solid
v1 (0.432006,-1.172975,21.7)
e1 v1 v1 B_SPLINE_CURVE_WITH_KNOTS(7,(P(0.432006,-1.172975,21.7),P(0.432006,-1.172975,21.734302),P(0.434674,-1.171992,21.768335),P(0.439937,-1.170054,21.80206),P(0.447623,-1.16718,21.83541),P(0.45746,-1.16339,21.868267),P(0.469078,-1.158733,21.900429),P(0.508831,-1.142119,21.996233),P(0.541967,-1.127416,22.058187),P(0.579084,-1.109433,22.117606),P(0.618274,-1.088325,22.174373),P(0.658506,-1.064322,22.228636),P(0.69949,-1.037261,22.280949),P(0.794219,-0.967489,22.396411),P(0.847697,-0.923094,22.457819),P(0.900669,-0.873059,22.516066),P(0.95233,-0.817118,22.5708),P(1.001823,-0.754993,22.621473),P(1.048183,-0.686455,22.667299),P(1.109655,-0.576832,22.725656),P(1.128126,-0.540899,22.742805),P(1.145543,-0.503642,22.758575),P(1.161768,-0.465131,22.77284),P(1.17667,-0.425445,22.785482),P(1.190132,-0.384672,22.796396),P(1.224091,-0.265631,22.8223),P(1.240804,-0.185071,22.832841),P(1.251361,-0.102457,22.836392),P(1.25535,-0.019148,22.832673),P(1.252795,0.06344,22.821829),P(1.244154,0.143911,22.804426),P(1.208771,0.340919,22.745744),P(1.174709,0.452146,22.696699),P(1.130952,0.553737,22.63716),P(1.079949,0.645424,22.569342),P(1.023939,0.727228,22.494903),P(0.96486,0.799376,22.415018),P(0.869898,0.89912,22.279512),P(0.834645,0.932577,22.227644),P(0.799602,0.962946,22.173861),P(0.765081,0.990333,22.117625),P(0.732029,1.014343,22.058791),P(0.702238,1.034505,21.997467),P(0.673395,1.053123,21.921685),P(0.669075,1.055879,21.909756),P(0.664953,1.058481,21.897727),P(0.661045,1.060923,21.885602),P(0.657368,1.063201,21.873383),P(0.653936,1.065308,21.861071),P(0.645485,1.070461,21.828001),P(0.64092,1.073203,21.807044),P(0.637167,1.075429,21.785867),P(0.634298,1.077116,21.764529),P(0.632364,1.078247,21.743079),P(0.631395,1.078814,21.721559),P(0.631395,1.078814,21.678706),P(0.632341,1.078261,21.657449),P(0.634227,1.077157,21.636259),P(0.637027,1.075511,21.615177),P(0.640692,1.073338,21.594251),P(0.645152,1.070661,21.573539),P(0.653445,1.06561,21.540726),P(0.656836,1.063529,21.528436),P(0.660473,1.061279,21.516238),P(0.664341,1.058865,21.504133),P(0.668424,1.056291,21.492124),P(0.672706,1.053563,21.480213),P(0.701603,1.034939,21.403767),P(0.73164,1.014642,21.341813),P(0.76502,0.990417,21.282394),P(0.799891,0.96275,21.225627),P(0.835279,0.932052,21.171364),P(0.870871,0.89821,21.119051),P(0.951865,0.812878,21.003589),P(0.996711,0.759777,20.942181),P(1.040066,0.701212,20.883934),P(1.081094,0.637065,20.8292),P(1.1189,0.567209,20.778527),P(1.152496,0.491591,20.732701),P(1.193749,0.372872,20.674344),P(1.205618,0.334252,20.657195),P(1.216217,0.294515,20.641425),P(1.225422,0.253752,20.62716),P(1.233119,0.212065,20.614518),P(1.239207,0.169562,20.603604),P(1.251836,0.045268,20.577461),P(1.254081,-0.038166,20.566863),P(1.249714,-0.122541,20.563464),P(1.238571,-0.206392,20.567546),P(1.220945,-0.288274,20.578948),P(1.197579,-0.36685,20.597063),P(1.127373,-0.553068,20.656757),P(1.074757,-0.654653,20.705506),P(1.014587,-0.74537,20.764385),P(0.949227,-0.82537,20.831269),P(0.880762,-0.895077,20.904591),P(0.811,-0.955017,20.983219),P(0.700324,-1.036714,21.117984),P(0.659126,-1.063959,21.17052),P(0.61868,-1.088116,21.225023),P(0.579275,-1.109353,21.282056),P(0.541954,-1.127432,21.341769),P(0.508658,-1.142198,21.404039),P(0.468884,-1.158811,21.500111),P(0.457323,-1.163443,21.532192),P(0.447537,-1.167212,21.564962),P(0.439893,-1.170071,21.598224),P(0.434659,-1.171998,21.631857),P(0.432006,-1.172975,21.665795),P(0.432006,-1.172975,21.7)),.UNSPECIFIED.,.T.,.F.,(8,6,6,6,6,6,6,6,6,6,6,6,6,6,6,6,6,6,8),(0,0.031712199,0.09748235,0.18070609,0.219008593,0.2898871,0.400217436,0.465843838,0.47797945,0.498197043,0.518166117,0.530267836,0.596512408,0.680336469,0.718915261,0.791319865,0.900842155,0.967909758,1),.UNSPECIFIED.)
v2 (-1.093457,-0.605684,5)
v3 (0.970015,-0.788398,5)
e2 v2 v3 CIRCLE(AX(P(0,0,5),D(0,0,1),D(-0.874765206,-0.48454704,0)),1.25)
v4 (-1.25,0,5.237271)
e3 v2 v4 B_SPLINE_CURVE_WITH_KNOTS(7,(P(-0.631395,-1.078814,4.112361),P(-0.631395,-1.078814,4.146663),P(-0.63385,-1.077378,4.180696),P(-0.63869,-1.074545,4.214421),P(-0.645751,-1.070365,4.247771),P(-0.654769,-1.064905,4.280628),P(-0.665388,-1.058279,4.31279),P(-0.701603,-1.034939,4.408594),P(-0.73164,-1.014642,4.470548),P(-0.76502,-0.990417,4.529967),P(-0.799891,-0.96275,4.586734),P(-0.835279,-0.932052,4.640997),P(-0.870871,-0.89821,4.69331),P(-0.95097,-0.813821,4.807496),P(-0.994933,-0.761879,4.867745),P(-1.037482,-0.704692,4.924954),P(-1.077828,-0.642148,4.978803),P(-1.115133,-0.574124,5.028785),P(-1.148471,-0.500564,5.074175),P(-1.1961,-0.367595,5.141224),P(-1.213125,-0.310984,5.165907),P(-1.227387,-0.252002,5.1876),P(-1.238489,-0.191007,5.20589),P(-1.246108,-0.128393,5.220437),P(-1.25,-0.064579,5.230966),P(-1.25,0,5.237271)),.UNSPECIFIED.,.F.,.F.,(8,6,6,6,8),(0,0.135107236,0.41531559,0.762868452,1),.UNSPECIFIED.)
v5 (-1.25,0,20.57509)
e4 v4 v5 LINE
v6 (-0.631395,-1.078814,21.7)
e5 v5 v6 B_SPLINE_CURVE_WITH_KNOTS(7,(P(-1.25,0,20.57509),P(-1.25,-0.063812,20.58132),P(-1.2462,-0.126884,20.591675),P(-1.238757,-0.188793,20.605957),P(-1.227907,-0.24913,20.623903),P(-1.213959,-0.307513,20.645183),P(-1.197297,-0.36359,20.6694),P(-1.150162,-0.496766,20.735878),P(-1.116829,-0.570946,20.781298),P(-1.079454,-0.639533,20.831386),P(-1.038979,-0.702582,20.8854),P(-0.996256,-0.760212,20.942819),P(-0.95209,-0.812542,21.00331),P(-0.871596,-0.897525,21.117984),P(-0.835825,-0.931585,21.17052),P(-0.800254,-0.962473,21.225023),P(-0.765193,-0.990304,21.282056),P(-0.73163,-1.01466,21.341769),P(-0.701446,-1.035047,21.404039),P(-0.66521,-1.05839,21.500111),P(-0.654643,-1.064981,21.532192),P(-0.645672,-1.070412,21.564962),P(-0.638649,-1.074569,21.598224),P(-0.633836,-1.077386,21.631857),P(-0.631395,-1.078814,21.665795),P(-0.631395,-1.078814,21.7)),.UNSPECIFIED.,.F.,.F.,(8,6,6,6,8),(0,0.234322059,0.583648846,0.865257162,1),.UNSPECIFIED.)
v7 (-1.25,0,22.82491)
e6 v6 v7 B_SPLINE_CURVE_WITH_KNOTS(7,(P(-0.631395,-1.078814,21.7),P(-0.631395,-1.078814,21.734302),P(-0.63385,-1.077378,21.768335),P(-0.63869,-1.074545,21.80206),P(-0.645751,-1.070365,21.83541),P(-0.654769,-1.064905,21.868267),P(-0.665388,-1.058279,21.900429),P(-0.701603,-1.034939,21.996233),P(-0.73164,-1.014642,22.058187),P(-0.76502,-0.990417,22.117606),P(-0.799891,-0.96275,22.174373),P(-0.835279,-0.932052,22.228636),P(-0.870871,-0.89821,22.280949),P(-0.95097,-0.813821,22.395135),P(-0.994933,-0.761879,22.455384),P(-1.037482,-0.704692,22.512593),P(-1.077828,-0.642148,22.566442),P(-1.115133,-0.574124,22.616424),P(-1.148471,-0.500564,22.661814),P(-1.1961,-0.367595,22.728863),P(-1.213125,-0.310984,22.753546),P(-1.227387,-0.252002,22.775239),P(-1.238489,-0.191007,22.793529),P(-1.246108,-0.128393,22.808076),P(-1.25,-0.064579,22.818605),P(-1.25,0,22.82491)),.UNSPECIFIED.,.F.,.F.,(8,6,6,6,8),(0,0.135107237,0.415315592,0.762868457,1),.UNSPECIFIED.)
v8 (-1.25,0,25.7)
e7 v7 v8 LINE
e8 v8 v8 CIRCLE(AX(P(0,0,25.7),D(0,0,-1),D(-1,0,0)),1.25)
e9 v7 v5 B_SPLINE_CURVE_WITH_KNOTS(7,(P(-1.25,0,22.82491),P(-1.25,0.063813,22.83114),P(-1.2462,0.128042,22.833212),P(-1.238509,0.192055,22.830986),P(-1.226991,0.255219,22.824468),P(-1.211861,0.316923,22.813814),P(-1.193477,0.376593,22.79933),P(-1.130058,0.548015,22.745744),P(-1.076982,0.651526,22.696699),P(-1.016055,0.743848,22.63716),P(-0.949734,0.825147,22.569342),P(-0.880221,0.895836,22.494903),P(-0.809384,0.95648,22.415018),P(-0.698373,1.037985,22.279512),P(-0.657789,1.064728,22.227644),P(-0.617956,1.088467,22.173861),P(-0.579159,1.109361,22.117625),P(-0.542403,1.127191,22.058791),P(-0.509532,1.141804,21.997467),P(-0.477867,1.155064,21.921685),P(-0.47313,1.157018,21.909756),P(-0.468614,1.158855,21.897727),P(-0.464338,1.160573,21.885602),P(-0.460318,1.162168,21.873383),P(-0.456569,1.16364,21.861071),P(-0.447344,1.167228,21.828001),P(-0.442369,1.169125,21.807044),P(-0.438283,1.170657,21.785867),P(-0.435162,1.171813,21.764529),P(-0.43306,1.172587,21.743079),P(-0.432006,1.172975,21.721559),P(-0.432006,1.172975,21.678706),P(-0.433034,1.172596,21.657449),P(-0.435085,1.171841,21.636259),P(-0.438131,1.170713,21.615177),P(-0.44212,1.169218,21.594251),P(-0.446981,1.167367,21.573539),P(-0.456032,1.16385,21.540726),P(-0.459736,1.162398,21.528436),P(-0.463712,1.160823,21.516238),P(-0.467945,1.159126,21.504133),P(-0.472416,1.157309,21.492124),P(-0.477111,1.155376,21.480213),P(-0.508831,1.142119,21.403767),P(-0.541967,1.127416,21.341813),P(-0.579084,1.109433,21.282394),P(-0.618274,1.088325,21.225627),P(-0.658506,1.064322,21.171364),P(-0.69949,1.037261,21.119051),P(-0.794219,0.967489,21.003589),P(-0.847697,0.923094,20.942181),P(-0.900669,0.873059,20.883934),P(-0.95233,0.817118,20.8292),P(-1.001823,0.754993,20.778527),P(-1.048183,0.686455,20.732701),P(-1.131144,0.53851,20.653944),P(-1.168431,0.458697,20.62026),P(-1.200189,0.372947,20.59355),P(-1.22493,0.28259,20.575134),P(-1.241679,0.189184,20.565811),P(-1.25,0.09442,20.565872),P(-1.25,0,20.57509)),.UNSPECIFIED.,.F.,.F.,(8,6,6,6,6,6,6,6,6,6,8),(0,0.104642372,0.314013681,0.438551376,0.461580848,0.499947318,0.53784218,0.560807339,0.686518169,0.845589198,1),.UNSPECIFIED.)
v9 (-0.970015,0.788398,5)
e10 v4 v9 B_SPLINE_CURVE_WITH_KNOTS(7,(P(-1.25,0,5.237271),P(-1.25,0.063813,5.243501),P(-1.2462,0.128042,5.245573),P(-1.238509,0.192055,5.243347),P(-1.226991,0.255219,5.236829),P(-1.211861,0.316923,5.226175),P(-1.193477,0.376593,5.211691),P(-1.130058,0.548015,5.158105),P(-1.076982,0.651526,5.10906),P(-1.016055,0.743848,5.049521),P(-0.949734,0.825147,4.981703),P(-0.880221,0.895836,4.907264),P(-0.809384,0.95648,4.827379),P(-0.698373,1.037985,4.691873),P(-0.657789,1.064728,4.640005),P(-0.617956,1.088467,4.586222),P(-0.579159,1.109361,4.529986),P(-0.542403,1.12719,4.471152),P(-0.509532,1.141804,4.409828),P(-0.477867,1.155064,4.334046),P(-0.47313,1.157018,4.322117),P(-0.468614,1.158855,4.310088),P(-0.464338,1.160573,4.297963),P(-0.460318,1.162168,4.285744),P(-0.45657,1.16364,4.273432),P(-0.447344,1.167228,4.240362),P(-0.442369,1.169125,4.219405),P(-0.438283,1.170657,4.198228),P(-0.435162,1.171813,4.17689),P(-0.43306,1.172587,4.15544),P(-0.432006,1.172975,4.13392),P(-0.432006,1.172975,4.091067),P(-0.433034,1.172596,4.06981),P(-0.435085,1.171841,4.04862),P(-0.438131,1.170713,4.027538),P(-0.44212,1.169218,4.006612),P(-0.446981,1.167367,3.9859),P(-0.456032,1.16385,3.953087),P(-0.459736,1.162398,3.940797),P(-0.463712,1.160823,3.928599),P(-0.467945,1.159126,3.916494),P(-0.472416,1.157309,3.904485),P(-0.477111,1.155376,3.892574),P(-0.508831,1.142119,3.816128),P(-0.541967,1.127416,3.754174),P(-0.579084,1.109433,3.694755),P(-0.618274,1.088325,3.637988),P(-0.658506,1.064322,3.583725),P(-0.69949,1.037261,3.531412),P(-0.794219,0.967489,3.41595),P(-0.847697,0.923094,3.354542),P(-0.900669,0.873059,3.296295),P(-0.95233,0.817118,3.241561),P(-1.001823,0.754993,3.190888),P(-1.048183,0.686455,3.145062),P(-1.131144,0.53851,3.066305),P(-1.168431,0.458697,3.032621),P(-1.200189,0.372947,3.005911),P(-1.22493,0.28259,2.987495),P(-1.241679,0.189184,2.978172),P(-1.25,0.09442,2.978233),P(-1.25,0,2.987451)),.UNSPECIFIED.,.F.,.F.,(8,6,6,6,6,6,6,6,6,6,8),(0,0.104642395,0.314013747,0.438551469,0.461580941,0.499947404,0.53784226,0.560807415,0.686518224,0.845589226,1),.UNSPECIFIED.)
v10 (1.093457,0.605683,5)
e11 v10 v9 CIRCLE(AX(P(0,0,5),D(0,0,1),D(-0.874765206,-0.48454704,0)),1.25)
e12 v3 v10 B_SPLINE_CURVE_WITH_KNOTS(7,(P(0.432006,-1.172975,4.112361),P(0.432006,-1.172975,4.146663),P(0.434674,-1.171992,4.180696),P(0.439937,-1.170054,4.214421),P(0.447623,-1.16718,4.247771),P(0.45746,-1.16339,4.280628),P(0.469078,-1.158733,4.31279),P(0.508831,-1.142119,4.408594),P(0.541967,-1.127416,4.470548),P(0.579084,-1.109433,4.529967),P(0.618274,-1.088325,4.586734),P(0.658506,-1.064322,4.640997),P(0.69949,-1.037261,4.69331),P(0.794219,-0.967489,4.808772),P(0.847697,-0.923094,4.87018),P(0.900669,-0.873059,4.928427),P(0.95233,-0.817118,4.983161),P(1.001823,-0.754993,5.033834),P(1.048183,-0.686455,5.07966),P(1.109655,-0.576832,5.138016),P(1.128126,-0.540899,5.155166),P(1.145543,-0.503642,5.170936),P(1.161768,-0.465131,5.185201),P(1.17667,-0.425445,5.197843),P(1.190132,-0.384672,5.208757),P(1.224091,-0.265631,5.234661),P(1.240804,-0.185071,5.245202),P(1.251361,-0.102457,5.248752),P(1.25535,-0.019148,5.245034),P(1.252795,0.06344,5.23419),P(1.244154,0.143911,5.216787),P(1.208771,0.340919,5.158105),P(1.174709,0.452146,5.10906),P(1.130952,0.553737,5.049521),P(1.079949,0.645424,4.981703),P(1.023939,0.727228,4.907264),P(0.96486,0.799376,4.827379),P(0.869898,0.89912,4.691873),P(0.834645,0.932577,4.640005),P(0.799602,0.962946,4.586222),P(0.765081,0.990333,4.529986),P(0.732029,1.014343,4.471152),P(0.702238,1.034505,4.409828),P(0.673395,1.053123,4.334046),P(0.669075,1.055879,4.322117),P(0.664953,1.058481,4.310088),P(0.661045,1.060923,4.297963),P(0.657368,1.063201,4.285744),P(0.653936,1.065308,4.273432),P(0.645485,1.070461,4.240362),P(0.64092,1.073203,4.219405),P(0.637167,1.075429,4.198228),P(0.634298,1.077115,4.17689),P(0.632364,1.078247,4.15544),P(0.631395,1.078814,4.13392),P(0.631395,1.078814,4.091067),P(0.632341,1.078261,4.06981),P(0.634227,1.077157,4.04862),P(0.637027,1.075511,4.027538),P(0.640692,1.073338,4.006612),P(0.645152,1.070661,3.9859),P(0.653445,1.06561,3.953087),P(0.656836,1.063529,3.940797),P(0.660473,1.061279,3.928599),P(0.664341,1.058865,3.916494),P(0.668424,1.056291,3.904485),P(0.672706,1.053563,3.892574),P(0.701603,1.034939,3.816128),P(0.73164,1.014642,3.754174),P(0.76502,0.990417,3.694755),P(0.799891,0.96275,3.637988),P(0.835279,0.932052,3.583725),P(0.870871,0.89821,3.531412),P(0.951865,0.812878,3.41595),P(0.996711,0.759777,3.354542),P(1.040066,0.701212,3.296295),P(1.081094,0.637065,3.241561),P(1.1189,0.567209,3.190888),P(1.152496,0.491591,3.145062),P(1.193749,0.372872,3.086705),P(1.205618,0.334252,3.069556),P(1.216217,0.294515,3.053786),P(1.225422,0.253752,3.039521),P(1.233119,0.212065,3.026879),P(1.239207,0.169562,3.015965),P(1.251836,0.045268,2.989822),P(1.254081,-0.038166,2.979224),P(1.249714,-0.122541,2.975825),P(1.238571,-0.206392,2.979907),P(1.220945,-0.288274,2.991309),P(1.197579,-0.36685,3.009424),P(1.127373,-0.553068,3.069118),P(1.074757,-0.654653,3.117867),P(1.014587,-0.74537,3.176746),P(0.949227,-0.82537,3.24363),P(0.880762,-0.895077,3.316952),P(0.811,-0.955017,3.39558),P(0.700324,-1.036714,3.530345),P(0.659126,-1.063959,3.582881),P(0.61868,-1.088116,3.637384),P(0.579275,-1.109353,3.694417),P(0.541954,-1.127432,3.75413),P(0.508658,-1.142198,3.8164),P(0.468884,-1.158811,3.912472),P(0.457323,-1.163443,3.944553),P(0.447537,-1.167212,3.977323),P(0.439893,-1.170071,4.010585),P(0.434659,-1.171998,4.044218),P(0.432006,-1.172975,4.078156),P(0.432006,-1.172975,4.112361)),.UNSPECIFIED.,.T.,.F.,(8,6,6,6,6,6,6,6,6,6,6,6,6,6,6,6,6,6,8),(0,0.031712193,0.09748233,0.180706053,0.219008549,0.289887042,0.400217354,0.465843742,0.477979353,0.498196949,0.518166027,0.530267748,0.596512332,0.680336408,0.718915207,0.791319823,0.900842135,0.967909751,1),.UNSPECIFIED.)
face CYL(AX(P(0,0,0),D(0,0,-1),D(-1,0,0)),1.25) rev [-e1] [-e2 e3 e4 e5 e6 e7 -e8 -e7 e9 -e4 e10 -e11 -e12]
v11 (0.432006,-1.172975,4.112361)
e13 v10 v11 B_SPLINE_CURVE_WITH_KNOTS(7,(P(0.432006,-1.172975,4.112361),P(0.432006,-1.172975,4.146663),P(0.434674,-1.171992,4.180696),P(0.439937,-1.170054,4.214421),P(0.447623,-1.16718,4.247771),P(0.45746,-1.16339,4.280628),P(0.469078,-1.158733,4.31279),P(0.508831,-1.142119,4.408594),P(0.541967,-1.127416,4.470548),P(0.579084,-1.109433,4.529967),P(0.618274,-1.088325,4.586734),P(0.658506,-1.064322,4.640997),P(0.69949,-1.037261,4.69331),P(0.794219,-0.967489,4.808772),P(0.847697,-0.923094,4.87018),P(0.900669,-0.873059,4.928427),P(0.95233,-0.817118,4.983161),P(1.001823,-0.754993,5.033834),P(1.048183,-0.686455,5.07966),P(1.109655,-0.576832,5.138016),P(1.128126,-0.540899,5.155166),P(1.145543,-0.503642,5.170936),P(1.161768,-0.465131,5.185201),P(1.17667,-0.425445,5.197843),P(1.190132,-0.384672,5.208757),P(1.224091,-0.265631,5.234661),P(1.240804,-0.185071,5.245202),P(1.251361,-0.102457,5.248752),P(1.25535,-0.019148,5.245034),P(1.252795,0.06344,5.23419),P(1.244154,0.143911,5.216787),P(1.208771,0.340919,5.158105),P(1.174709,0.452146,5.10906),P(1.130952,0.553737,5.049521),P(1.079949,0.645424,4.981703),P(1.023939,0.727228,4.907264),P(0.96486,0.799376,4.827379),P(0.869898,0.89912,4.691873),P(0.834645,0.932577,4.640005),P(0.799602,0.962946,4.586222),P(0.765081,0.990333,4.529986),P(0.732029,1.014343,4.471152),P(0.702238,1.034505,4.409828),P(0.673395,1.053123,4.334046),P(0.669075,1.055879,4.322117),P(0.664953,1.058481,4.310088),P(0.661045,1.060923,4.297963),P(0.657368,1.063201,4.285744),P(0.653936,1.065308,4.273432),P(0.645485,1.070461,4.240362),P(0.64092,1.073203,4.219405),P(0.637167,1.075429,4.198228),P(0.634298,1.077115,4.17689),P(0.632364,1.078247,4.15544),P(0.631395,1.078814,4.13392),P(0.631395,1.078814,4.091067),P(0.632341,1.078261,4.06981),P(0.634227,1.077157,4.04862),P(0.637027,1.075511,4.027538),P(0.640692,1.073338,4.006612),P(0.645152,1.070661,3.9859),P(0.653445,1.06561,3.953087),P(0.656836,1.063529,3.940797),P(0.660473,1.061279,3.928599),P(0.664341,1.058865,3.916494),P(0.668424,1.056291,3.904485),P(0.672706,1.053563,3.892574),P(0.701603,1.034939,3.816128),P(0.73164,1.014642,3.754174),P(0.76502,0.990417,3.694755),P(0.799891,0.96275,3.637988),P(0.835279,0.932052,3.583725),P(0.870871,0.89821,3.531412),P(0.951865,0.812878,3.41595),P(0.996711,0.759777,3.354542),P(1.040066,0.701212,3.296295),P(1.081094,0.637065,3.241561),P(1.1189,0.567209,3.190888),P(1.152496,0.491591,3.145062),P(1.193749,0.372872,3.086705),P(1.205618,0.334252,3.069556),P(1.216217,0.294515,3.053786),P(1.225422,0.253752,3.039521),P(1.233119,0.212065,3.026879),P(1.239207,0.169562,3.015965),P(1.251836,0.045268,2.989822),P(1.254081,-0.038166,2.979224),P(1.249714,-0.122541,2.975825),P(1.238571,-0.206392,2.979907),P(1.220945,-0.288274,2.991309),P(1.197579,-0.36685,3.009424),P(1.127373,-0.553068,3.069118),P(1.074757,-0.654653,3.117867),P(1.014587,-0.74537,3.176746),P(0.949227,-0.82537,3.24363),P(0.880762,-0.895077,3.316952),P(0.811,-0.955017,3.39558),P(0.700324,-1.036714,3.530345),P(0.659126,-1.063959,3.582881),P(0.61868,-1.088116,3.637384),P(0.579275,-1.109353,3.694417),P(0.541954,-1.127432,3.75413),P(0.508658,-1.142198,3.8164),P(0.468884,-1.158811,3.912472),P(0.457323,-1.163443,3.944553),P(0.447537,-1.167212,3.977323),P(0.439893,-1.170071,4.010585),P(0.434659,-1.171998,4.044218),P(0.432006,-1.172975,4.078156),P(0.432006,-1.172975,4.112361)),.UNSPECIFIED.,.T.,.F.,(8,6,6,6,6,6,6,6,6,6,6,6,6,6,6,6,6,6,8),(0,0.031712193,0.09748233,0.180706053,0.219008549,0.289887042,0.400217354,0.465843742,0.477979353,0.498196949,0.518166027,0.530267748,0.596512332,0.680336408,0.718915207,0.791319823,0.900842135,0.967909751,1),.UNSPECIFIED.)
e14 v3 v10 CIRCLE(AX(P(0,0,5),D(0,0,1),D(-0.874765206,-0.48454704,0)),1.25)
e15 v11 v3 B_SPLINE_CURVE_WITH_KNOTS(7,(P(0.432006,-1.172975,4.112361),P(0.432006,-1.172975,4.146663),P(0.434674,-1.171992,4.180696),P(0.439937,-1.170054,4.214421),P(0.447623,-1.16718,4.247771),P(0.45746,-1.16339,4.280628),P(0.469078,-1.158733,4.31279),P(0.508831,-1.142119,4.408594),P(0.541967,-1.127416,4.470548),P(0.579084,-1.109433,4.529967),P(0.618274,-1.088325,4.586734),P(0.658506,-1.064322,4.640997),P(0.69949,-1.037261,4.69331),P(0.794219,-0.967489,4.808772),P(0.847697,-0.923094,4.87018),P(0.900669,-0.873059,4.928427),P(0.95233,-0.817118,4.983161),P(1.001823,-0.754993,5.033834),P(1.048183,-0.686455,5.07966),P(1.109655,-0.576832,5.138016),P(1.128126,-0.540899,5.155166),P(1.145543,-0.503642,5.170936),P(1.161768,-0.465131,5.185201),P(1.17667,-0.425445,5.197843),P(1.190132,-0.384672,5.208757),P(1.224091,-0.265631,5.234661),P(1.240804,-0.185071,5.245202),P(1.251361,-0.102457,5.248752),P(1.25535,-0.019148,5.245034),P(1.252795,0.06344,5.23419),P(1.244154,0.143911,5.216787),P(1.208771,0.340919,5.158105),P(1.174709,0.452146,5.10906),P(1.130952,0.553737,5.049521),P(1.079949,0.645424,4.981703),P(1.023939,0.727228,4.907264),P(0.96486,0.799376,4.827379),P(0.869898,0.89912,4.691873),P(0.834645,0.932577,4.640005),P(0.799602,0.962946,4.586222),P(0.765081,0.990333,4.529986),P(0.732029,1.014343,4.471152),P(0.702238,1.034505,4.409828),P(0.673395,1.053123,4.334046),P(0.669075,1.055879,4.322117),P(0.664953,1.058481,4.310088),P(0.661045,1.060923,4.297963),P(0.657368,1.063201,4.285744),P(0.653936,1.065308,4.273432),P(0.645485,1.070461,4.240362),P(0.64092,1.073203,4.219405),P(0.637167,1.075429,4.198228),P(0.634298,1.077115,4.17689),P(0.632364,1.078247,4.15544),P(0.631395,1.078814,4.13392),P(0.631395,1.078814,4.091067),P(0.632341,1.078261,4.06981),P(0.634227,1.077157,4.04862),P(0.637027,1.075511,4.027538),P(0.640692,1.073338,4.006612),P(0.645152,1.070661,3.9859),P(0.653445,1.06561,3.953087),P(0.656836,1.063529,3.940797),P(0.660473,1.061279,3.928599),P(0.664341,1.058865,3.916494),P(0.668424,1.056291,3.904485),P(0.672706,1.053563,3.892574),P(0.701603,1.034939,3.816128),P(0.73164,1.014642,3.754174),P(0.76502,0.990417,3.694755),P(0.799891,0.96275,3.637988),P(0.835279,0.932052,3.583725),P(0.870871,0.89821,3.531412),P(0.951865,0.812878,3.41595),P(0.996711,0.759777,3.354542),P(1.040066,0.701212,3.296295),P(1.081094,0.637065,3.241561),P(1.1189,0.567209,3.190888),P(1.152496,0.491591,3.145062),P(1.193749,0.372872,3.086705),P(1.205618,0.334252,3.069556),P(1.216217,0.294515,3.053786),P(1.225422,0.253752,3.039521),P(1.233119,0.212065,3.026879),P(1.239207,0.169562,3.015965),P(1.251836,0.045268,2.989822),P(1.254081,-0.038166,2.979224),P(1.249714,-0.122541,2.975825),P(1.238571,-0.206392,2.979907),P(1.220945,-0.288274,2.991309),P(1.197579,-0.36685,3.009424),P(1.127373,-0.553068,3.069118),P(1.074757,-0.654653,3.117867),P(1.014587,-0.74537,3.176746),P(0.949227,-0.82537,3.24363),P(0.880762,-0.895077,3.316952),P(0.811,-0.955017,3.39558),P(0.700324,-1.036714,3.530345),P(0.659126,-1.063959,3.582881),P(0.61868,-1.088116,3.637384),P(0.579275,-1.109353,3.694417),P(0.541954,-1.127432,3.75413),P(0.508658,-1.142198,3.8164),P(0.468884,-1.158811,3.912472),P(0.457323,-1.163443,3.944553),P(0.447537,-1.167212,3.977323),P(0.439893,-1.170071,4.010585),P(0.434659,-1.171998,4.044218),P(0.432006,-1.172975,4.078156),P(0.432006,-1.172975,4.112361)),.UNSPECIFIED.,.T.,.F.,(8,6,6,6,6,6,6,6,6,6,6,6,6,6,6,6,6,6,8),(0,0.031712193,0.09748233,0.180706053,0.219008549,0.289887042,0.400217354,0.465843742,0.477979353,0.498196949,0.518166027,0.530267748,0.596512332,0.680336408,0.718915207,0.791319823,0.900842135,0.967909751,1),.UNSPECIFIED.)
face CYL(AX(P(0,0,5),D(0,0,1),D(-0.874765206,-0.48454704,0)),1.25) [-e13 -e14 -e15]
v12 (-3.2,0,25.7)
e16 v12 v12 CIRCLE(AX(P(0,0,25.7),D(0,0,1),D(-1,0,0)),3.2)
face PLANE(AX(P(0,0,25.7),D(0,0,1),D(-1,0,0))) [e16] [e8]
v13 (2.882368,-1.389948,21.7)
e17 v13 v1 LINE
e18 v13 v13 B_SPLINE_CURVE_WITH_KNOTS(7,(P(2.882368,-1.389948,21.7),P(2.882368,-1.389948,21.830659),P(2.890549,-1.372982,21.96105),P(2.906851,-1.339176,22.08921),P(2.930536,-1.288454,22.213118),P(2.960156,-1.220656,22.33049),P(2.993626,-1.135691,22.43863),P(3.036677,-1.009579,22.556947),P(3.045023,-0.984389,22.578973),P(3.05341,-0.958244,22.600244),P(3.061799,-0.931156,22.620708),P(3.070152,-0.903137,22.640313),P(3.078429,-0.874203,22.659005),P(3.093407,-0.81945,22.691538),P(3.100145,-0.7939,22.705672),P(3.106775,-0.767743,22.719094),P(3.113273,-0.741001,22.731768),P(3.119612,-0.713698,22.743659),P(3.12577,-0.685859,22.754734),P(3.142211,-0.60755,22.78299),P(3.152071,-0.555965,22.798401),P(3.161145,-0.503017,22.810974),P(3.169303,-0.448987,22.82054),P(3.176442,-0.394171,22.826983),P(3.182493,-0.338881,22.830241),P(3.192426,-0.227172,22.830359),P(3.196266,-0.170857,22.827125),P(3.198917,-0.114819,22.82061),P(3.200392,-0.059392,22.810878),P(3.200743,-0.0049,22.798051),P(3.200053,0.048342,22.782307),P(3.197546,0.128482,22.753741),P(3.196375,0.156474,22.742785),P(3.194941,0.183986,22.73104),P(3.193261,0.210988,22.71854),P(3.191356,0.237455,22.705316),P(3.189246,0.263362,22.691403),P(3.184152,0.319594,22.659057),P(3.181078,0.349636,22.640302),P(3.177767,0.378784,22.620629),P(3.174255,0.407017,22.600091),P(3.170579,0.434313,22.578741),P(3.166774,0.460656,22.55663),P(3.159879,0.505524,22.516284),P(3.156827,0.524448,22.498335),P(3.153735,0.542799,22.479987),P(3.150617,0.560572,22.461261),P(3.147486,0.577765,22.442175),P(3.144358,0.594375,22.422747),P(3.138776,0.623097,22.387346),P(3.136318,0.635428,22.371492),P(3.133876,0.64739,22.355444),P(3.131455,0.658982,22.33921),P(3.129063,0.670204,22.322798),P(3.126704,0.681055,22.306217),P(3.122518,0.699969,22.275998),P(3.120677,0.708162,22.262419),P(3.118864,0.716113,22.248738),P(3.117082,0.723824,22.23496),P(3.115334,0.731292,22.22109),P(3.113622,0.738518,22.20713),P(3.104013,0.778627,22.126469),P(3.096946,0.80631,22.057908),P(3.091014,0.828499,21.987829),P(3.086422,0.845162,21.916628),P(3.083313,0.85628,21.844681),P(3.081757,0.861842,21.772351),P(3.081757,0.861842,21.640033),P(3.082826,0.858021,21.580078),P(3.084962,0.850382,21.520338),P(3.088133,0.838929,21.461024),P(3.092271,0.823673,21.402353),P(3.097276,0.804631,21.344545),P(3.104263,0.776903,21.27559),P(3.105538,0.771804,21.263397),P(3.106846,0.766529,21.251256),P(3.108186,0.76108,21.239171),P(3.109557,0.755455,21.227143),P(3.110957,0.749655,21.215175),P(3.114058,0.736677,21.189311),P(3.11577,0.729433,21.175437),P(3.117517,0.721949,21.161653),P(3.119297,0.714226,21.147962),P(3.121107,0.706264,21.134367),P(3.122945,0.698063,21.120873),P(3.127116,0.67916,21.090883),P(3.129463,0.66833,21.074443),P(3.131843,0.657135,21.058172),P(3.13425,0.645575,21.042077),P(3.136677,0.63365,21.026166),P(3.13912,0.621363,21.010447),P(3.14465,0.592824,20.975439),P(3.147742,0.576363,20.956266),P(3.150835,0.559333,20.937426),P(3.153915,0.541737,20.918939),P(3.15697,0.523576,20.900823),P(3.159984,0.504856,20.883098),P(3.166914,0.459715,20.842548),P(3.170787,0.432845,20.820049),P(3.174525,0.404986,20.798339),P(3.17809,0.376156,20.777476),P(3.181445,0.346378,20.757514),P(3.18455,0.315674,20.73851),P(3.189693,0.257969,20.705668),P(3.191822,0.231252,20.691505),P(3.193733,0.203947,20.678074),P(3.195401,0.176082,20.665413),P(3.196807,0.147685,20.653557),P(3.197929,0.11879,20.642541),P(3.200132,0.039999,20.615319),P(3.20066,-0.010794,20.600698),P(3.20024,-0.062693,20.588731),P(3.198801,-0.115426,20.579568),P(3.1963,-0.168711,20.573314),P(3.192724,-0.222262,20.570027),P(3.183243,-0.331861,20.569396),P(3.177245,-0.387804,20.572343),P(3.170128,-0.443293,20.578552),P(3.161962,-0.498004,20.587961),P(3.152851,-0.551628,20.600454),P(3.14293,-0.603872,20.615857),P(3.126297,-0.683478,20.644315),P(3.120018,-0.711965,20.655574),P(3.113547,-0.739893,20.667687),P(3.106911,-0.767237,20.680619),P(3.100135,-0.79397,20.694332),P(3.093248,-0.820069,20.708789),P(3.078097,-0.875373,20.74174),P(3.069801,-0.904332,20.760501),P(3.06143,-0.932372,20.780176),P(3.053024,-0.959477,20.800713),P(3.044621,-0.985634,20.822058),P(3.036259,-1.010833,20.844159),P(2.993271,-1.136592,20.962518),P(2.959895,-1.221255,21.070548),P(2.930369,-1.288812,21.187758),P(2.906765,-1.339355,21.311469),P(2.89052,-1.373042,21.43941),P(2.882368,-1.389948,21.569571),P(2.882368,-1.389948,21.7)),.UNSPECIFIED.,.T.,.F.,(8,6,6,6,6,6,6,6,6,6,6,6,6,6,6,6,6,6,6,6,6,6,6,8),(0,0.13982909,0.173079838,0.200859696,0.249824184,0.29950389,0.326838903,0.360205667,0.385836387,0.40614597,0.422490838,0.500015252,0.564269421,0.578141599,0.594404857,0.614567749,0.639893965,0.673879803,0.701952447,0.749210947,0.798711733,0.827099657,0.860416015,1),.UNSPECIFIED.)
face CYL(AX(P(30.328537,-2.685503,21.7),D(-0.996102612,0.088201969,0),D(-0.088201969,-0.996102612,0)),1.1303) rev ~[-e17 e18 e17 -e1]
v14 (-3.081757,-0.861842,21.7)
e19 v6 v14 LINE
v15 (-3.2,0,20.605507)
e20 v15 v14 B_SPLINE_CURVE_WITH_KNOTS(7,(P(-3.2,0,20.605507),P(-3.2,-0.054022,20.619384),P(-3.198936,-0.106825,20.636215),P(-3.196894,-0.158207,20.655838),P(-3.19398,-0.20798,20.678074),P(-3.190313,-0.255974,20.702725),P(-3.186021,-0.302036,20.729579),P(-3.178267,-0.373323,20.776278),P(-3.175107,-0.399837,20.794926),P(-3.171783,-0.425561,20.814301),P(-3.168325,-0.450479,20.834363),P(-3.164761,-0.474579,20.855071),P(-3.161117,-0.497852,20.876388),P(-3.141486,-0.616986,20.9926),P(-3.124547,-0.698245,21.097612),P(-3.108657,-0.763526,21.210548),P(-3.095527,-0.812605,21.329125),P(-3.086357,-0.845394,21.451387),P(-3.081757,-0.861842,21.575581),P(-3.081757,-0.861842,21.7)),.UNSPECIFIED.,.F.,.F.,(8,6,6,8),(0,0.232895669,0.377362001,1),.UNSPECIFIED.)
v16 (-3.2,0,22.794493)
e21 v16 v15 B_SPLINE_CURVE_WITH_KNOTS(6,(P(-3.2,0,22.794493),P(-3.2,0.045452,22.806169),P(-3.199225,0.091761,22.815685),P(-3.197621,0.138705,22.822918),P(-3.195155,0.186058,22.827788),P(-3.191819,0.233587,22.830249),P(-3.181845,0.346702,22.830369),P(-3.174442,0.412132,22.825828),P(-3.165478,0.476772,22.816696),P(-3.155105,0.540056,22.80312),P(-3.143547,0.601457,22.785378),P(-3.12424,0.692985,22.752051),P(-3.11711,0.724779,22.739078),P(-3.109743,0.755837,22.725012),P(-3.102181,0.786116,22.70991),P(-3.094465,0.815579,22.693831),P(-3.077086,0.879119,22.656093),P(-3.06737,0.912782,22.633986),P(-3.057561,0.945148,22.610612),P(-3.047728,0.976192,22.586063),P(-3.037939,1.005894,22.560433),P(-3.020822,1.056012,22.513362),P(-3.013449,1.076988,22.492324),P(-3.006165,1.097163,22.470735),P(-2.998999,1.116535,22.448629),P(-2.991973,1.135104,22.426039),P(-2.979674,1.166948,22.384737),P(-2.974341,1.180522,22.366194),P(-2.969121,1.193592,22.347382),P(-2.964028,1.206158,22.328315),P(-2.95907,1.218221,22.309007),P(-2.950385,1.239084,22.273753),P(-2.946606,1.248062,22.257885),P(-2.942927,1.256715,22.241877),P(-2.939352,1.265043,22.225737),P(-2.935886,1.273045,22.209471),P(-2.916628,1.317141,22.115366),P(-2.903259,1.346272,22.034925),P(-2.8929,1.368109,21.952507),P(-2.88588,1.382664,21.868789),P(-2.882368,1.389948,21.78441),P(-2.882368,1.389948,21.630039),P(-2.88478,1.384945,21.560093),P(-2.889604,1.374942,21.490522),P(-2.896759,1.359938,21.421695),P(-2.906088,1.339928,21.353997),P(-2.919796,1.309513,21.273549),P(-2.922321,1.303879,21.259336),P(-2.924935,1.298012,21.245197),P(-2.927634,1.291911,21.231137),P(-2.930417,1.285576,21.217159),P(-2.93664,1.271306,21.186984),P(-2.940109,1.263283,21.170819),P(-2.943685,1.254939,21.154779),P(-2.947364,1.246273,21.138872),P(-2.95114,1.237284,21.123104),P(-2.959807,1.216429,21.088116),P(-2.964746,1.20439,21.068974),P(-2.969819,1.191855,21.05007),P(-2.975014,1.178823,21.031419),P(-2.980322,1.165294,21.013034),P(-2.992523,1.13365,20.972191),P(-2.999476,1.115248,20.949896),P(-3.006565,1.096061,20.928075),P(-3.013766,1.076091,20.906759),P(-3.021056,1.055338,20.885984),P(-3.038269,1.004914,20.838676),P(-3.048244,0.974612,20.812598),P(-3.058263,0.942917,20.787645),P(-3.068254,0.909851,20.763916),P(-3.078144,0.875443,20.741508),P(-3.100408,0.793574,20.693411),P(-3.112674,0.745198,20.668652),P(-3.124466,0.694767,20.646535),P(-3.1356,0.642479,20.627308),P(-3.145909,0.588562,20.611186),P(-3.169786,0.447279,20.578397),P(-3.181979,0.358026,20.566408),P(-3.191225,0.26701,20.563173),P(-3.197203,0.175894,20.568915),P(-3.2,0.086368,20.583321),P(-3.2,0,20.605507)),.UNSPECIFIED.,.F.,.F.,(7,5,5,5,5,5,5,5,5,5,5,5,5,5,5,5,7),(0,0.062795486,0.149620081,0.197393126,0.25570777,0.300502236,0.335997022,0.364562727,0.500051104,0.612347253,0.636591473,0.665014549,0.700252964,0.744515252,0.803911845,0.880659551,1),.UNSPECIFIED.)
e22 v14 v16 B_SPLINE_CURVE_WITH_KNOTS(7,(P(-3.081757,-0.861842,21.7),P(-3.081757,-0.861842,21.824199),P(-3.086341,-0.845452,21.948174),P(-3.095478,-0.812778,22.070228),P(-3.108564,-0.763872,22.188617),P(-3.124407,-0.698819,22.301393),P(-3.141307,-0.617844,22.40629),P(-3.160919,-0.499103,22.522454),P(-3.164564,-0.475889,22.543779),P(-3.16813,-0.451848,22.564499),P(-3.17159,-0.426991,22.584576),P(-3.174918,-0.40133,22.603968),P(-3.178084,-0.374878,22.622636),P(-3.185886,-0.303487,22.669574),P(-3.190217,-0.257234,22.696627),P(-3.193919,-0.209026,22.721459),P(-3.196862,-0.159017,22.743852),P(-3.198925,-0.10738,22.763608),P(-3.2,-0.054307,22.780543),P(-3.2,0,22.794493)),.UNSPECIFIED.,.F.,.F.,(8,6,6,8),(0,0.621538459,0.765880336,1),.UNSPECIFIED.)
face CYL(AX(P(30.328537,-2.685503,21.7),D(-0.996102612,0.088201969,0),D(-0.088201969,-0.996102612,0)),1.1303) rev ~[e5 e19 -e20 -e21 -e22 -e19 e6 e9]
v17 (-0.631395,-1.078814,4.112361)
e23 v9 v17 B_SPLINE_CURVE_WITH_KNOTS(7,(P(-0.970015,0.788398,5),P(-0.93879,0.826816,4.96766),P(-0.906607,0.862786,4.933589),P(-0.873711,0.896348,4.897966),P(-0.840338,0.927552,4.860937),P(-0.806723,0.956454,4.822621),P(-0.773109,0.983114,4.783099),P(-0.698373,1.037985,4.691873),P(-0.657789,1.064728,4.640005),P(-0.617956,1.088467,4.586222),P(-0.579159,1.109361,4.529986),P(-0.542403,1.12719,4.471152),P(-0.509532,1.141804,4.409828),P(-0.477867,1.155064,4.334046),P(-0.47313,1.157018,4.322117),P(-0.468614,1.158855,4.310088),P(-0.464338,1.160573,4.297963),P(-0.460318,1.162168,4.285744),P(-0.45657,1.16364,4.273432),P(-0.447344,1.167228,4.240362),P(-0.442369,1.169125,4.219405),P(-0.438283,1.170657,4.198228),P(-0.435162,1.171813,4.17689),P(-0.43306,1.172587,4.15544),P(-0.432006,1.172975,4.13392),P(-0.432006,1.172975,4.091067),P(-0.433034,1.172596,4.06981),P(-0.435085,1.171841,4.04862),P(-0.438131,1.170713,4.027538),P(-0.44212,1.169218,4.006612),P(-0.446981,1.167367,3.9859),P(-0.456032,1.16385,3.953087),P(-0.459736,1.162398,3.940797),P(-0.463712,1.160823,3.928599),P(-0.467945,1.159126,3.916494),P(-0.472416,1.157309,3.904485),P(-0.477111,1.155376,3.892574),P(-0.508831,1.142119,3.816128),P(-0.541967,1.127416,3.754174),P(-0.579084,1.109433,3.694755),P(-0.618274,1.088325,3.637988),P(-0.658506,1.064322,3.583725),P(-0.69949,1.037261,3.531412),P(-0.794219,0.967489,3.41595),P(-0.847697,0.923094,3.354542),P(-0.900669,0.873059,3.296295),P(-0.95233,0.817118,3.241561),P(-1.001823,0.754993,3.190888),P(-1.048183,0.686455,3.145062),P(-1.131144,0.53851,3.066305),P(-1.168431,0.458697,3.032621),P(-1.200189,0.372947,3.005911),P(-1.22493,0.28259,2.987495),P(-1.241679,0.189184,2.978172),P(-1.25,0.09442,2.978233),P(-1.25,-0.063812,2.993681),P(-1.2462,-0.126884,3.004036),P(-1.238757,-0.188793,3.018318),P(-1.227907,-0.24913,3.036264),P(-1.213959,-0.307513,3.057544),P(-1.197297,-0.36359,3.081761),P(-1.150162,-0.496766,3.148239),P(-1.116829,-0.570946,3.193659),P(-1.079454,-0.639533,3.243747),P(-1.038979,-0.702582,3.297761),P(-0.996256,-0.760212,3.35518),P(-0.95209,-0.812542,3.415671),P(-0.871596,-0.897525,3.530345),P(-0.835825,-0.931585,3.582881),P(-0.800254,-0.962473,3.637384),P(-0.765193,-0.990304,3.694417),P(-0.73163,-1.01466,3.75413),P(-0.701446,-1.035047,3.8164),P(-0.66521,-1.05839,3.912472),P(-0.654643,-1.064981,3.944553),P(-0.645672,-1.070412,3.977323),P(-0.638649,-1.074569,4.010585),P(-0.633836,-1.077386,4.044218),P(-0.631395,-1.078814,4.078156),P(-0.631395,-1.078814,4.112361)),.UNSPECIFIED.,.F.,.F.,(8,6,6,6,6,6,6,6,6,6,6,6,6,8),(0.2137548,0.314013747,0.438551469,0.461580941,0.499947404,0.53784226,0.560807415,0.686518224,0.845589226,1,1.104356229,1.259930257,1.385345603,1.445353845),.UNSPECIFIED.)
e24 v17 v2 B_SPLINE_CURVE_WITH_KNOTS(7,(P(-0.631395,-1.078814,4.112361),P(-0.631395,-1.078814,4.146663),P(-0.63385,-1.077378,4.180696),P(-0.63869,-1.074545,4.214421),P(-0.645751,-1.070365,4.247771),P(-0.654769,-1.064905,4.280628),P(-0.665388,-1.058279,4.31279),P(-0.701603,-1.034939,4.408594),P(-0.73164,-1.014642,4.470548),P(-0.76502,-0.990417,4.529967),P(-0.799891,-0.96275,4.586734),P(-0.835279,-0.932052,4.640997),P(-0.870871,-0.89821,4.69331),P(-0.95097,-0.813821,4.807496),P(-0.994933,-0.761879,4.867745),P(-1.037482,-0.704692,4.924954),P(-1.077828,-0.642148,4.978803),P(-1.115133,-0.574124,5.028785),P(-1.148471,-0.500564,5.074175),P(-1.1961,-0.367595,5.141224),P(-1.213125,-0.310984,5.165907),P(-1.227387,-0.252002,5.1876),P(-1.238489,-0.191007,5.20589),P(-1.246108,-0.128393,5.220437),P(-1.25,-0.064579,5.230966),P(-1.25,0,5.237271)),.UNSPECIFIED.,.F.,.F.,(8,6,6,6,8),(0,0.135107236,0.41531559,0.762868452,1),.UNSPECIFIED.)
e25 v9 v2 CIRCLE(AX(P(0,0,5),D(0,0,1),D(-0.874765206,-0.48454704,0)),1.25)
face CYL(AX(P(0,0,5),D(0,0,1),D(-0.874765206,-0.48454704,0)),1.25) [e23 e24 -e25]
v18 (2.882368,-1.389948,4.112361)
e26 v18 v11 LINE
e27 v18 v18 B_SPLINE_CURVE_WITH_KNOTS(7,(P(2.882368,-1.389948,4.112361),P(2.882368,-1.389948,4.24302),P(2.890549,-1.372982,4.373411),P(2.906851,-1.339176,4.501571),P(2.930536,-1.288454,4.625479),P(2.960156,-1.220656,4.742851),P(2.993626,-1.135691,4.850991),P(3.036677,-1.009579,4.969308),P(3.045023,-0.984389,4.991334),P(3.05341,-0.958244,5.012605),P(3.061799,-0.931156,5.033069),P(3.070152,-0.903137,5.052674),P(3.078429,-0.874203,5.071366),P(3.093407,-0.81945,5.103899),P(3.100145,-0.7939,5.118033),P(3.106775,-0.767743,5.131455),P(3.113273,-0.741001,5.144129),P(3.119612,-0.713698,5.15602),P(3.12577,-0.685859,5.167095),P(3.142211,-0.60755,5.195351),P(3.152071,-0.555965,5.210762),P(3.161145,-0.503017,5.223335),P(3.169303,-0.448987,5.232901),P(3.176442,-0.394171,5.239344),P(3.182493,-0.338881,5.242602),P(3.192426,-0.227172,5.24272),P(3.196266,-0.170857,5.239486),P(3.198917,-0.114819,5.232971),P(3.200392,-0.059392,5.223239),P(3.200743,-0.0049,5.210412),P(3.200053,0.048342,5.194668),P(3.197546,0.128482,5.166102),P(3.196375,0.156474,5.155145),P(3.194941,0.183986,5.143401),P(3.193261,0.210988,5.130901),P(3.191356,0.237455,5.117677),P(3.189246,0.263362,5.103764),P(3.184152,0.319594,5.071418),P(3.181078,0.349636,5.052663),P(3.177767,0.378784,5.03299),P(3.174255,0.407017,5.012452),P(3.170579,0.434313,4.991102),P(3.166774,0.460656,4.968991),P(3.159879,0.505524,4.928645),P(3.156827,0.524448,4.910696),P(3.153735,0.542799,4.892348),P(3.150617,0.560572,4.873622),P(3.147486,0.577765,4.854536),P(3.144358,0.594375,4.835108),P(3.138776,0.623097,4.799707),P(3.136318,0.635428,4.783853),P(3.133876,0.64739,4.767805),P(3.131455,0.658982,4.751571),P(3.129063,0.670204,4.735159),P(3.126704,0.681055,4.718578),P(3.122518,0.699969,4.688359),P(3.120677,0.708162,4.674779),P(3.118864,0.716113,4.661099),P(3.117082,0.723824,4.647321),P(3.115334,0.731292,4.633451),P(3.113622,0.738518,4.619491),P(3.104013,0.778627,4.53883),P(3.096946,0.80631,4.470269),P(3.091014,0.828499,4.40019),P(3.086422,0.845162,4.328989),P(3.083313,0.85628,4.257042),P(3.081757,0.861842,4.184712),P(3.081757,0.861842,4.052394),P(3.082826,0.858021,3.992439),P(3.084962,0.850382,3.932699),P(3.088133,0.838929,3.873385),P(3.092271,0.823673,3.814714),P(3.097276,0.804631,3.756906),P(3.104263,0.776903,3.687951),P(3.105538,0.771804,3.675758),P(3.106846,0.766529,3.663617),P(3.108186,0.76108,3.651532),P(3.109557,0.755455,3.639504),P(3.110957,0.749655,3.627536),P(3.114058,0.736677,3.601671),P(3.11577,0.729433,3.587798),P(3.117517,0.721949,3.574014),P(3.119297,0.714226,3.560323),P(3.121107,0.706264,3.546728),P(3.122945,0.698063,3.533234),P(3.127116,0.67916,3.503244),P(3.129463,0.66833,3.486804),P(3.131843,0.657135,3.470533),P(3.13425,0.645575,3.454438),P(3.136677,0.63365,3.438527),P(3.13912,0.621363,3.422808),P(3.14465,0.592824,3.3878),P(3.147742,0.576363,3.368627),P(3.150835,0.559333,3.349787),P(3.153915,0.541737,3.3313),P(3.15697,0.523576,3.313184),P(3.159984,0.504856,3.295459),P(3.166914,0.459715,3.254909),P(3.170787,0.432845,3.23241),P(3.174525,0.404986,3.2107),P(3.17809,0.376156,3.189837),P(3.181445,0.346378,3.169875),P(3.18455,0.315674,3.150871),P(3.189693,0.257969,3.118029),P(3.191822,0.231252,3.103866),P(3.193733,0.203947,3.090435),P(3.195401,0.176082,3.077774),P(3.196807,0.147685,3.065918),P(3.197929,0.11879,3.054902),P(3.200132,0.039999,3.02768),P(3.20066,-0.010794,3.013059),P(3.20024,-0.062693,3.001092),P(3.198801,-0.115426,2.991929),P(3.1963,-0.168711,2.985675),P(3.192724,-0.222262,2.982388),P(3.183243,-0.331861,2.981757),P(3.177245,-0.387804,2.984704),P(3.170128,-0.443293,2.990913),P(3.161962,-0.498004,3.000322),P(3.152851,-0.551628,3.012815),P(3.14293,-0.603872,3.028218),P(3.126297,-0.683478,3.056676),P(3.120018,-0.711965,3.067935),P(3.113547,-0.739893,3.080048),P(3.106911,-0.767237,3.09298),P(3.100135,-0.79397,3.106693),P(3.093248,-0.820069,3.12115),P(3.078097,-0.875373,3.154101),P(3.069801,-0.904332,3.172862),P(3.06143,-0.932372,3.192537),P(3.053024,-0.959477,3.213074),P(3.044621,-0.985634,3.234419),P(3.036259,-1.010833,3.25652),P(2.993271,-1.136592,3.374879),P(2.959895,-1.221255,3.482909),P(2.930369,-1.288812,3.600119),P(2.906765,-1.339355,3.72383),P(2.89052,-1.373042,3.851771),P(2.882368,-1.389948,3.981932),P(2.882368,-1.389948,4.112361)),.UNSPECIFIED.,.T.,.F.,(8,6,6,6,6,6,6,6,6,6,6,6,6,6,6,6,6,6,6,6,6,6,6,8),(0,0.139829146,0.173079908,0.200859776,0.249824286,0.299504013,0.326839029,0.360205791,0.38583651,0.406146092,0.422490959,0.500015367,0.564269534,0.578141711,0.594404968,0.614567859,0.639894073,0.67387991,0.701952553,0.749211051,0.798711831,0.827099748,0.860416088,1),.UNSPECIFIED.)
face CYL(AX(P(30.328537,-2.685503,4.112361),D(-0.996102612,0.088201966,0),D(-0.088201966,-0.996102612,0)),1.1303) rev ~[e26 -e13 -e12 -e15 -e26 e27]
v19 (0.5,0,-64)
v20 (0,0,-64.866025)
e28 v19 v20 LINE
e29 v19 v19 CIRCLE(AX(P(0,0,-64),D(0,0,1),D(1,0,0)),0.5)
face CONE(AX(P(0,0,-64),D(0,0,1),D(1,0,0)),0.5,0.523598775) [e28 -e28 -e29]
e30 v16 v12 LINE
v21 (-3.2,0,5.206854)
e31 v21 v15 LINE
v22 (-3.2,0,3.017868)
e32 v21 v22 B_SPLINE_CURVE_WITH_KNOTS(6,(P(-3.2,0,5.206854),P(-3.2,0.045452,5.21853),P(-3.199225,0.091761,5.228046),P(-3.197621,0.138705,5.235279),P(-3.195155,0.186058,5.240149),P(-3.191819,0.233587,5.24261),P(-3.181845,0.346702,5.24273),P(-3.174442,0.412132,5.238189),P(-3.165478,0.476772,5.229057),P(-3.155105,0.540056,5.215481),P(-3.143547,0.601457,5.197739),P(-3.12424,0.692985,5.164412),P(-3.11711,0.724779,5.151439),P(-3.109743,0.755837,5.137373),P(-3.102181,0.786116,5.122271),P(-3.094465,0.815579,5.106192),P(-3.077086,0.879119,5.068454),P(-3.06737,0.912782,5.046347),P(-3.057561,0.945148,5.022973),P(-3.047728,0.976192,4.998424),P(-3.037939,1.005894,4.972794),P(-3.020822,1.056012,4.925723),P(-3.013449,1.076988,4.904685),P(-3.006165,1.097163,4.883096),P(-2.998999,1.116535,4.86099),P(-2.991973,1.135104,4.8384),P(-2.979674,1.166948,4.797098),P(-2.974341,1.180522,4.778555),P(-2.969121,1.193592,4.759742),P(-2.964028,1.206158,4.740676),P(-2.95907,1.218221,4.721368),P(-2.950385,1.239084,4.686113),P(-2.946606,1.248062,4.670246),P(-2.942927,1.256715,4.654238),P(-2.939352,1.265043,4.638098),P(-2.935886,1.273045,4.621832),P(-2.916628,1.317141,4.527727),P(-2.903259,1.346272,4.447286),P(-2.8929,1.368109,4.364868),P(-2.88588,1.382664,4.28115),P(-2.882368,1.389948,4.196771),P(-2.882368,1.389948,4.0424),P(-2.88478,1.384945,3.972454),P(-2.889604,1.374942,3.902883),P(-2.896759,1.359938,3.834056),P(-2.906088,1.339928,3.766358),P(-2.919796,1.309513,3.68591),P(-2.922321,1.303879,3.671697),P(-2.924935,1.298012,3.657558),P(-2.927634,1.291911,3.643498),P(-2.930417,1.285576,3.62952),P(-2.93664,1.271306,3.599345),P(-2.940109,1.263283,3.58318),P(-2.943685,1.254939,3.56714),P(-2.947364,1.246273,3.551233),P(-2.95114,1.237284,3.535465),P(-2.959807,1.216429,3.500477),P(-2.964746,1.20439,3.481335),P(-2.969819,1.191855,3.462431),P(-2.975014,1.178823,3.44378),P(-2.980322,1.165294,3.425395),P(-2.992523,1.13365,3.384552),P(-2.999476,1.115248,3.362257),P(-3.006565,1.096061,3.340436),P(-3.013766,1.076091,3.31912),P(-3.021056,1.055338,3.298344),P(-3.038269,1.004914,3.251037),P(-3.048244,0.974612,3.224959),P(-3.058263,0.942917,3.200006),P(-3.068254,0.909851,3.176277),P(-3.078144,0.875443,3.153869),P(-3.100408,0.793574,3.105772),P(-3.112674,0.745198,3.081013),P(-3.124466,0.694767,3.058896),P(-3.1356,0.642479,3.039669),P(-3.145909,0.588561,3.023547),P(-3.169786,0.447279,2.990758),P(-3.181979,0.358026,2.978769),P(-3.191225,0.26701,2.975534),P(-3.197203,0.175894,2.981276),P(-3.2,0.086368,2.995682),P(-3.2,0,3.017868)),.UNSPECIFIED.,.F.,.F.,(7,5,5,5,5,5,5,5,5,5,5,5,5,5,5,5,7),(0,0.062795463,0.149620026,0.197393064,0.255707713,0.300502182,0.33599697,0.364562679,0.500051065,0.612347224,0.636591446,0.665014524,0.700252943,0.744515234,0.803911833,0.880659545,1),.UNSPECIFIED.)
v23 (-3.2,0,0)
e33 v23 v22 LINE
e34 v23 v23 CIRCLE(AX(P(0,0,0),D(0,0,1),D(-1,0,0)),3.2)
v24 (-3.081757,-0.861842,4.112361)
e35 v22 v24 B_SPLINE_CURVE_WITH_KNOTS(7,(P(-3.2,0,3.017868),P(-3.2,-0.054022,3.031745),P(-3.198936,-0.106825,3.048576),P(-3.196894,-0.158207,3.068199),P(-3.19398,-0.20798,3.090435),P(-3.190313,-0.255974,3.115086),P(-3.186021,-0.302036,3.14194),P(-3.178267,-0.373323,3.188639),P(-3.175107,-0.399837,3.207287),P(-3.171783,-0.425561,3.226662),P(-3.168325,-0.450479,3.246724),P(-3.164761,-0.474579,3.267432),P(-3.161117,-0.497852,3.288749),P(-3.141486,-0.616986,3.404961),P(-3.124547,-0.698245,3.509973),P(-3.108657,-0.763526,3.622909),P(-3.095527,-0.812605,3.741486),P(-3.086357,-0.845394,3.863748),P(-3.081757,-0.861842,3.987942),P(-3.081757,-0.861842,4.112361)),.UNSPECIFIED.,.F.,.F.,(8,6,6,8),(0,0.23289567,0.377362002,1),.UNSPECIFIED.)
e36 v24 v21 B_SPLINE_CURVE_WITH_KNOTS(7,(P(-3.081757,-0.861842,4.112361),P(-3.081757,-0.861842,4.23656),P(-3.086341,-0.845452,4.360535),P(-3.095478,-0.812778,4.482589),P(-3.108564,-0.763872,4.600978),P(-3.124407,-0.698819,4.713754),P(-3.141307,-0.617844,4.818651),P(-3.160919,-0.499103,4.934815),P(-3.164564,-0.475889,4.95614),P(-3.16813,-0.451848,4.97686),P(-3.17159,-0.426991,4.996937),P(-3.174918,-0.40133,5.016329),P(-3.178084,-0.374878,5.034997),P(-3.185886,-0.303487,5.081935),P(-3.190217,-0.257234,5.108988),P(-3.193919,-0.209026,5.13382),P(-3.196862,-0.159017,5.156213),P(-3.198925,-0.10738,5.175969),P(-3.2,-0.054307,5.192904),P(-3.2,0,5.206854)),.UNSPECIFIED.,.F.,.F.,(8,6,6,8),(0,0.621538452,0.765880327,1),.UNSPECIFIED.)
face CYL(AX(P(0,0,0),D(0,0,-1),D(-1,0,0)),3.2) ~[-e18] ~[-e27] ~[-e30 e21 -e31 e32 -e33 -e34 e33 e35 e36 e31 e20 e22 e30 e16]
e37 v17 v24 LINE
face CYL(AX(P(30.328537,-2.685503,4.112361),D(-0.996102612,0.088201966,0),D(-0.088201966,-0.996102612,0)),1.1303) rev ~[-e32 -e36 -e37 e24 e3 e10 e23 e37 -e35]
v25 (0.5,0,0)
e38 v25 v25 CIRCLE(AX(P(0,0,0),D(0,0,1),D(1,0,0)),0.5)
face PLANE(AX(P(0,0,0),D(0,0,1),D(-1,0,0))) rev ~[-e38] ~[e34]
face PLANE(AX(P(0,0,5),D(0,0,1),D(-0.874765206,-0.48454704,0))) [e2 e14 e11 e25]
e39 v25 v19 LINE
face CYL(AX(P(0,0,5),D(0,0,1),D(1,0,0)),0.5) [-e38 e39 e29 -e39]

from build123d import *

# Parameters (mm, degrees)
SKETCH3_R                           = 3.2
SKETCH3_R_2                         = 0.5
BOSS_EXTRUDE2_DEPTH                 = 25.7
CUT_EXTRUDE1_DEPTH                  = 27.095401894
CUT_EXTRUDE1_DEPTH_BACK             = 25.7
SKETCH6_R                           = 1.25
TAP_DRILL_FOR_4_40_TAP1_D           = 2.2606
TAP_DRILL_FOR_4_40_TAP1_ON_FACE_2_D = 2.2606
BOSS_EXTRUDE4_START                 = 5
SKETCH3_4_R                         = 0.5
BOSS_EXTRUDE4_DEPTH                 = 69
BOSS_EXTRUDE5_START                 = -20.7
SKETCH6_2_R                         = 1.25
SKETCH6_2_R_2                       = 0.5
BOSS_EXTRUDE5_DEPTH                 = 5


with BuildPart() as part:
    # Sketch3 → Boss-Extrude2 (new body)
    with BuildSketch(Plane.XY):
        with Locations(Location((0, 0, 0), (0, 0, 180))):
            Circle(SKETCH3_R)
        Circle(SKETCH3_R_2, mode=Mode.SUBTRACT)
    extrude(amount=BOSS_EXTRUDE2_DEPTH)

    # Sketch6 → Cut-Extrude1 (cut, two sides: drawn at the far end of the back side and taken through both)
    with BuildSketch(Plane.XY.offset(25.7).offset(-CUT_EXTRUDE1_DEPTH_BACK)):
        with Locations(Location((0, 0, 0), (0, 0, 180))):
            Circle(SKETCH6_R)
    extrude(amount=CUT_EXTRUDE1_DEPTH + CUT_EXTRUDE1_DEPTH_BACK, mode=Mode.SUBTRACT)

    # Tap Drill for #4-40 Tap1 (through all)
    with Locations(Plane(origin=(3.187528357, -0.282246299, 21.7), x_dir=(0.088201968553, 0.996102611553, 0), z_dir=(0.996102611553, -0.088201968553, 0))):
        with Locations((0, 0)):
            Hole(TAP_DRILL_FOR_4_40_TAP1_D / 2)

    # Tap Drill for #4-40 Tap1 on face 2 (through all)
    with Locations(Plane(origin=(3.187528357, -0.282246299, 4.112360987), x_dir=(0.088201965627, 0.996102611812, 0), z_dir=(0.996102611812, -0.088201965627, 0))):
        with Locations((0, 0)):
            Hole(TAP_DRILL_FOR_4_40_TAP1_ON_FACE_2_D / 2)



with BuildPart() as body_2:
    # Sketch3<4> → Boss-Extrude4 (new body)
    with BuildSketch(Plane.XY.offset(BOSS_EXTRUDE4_START)):
        Circle(SKETCH3_4_R)
    extrude(amount=-BOSS_EXTRUDE4_DEPTH)

    # Sketch9 → Revolve1 (revolve)
    with BuildSketch(Plane(origin=(0, 0, 0), x_dir=(1, 0, 0), z_dir=(0, 1, 0)), mode=Mode.PRIVATE) as revolve1_sk:
        Polygon((0, 64), (-0.5, 64), (0, 64.866025404), align=None)
    revolve(revolve1_sk.sketch.rotate(Axis((0, 0, -64), (0, 0, -1)), 180), axis=Axis((0, 0, -64), (0, 0, -1)))


with BuildPart() as part_1:
    add(part.part)

    add(body_2.part)  # Boss-Extrude5 merges body 2
    # Sketch6<2> → Boss-Extrude5 (add)
    with BuildSketch(Plane.XY.offset(25.7).offset(BOSS_EXTRUDE5_START)):
        with Locations(Location((0, 0, 0), (0, 0, 208.982799993))):
            Circle(SKETCH6_2_R)
        Circle(SKETCH6_2_R_2, mode=Mode.SUBTRACT)
    extrude(amount=-BOSS_EXTRUDE5_DEPTH)


solid = part_1.part
